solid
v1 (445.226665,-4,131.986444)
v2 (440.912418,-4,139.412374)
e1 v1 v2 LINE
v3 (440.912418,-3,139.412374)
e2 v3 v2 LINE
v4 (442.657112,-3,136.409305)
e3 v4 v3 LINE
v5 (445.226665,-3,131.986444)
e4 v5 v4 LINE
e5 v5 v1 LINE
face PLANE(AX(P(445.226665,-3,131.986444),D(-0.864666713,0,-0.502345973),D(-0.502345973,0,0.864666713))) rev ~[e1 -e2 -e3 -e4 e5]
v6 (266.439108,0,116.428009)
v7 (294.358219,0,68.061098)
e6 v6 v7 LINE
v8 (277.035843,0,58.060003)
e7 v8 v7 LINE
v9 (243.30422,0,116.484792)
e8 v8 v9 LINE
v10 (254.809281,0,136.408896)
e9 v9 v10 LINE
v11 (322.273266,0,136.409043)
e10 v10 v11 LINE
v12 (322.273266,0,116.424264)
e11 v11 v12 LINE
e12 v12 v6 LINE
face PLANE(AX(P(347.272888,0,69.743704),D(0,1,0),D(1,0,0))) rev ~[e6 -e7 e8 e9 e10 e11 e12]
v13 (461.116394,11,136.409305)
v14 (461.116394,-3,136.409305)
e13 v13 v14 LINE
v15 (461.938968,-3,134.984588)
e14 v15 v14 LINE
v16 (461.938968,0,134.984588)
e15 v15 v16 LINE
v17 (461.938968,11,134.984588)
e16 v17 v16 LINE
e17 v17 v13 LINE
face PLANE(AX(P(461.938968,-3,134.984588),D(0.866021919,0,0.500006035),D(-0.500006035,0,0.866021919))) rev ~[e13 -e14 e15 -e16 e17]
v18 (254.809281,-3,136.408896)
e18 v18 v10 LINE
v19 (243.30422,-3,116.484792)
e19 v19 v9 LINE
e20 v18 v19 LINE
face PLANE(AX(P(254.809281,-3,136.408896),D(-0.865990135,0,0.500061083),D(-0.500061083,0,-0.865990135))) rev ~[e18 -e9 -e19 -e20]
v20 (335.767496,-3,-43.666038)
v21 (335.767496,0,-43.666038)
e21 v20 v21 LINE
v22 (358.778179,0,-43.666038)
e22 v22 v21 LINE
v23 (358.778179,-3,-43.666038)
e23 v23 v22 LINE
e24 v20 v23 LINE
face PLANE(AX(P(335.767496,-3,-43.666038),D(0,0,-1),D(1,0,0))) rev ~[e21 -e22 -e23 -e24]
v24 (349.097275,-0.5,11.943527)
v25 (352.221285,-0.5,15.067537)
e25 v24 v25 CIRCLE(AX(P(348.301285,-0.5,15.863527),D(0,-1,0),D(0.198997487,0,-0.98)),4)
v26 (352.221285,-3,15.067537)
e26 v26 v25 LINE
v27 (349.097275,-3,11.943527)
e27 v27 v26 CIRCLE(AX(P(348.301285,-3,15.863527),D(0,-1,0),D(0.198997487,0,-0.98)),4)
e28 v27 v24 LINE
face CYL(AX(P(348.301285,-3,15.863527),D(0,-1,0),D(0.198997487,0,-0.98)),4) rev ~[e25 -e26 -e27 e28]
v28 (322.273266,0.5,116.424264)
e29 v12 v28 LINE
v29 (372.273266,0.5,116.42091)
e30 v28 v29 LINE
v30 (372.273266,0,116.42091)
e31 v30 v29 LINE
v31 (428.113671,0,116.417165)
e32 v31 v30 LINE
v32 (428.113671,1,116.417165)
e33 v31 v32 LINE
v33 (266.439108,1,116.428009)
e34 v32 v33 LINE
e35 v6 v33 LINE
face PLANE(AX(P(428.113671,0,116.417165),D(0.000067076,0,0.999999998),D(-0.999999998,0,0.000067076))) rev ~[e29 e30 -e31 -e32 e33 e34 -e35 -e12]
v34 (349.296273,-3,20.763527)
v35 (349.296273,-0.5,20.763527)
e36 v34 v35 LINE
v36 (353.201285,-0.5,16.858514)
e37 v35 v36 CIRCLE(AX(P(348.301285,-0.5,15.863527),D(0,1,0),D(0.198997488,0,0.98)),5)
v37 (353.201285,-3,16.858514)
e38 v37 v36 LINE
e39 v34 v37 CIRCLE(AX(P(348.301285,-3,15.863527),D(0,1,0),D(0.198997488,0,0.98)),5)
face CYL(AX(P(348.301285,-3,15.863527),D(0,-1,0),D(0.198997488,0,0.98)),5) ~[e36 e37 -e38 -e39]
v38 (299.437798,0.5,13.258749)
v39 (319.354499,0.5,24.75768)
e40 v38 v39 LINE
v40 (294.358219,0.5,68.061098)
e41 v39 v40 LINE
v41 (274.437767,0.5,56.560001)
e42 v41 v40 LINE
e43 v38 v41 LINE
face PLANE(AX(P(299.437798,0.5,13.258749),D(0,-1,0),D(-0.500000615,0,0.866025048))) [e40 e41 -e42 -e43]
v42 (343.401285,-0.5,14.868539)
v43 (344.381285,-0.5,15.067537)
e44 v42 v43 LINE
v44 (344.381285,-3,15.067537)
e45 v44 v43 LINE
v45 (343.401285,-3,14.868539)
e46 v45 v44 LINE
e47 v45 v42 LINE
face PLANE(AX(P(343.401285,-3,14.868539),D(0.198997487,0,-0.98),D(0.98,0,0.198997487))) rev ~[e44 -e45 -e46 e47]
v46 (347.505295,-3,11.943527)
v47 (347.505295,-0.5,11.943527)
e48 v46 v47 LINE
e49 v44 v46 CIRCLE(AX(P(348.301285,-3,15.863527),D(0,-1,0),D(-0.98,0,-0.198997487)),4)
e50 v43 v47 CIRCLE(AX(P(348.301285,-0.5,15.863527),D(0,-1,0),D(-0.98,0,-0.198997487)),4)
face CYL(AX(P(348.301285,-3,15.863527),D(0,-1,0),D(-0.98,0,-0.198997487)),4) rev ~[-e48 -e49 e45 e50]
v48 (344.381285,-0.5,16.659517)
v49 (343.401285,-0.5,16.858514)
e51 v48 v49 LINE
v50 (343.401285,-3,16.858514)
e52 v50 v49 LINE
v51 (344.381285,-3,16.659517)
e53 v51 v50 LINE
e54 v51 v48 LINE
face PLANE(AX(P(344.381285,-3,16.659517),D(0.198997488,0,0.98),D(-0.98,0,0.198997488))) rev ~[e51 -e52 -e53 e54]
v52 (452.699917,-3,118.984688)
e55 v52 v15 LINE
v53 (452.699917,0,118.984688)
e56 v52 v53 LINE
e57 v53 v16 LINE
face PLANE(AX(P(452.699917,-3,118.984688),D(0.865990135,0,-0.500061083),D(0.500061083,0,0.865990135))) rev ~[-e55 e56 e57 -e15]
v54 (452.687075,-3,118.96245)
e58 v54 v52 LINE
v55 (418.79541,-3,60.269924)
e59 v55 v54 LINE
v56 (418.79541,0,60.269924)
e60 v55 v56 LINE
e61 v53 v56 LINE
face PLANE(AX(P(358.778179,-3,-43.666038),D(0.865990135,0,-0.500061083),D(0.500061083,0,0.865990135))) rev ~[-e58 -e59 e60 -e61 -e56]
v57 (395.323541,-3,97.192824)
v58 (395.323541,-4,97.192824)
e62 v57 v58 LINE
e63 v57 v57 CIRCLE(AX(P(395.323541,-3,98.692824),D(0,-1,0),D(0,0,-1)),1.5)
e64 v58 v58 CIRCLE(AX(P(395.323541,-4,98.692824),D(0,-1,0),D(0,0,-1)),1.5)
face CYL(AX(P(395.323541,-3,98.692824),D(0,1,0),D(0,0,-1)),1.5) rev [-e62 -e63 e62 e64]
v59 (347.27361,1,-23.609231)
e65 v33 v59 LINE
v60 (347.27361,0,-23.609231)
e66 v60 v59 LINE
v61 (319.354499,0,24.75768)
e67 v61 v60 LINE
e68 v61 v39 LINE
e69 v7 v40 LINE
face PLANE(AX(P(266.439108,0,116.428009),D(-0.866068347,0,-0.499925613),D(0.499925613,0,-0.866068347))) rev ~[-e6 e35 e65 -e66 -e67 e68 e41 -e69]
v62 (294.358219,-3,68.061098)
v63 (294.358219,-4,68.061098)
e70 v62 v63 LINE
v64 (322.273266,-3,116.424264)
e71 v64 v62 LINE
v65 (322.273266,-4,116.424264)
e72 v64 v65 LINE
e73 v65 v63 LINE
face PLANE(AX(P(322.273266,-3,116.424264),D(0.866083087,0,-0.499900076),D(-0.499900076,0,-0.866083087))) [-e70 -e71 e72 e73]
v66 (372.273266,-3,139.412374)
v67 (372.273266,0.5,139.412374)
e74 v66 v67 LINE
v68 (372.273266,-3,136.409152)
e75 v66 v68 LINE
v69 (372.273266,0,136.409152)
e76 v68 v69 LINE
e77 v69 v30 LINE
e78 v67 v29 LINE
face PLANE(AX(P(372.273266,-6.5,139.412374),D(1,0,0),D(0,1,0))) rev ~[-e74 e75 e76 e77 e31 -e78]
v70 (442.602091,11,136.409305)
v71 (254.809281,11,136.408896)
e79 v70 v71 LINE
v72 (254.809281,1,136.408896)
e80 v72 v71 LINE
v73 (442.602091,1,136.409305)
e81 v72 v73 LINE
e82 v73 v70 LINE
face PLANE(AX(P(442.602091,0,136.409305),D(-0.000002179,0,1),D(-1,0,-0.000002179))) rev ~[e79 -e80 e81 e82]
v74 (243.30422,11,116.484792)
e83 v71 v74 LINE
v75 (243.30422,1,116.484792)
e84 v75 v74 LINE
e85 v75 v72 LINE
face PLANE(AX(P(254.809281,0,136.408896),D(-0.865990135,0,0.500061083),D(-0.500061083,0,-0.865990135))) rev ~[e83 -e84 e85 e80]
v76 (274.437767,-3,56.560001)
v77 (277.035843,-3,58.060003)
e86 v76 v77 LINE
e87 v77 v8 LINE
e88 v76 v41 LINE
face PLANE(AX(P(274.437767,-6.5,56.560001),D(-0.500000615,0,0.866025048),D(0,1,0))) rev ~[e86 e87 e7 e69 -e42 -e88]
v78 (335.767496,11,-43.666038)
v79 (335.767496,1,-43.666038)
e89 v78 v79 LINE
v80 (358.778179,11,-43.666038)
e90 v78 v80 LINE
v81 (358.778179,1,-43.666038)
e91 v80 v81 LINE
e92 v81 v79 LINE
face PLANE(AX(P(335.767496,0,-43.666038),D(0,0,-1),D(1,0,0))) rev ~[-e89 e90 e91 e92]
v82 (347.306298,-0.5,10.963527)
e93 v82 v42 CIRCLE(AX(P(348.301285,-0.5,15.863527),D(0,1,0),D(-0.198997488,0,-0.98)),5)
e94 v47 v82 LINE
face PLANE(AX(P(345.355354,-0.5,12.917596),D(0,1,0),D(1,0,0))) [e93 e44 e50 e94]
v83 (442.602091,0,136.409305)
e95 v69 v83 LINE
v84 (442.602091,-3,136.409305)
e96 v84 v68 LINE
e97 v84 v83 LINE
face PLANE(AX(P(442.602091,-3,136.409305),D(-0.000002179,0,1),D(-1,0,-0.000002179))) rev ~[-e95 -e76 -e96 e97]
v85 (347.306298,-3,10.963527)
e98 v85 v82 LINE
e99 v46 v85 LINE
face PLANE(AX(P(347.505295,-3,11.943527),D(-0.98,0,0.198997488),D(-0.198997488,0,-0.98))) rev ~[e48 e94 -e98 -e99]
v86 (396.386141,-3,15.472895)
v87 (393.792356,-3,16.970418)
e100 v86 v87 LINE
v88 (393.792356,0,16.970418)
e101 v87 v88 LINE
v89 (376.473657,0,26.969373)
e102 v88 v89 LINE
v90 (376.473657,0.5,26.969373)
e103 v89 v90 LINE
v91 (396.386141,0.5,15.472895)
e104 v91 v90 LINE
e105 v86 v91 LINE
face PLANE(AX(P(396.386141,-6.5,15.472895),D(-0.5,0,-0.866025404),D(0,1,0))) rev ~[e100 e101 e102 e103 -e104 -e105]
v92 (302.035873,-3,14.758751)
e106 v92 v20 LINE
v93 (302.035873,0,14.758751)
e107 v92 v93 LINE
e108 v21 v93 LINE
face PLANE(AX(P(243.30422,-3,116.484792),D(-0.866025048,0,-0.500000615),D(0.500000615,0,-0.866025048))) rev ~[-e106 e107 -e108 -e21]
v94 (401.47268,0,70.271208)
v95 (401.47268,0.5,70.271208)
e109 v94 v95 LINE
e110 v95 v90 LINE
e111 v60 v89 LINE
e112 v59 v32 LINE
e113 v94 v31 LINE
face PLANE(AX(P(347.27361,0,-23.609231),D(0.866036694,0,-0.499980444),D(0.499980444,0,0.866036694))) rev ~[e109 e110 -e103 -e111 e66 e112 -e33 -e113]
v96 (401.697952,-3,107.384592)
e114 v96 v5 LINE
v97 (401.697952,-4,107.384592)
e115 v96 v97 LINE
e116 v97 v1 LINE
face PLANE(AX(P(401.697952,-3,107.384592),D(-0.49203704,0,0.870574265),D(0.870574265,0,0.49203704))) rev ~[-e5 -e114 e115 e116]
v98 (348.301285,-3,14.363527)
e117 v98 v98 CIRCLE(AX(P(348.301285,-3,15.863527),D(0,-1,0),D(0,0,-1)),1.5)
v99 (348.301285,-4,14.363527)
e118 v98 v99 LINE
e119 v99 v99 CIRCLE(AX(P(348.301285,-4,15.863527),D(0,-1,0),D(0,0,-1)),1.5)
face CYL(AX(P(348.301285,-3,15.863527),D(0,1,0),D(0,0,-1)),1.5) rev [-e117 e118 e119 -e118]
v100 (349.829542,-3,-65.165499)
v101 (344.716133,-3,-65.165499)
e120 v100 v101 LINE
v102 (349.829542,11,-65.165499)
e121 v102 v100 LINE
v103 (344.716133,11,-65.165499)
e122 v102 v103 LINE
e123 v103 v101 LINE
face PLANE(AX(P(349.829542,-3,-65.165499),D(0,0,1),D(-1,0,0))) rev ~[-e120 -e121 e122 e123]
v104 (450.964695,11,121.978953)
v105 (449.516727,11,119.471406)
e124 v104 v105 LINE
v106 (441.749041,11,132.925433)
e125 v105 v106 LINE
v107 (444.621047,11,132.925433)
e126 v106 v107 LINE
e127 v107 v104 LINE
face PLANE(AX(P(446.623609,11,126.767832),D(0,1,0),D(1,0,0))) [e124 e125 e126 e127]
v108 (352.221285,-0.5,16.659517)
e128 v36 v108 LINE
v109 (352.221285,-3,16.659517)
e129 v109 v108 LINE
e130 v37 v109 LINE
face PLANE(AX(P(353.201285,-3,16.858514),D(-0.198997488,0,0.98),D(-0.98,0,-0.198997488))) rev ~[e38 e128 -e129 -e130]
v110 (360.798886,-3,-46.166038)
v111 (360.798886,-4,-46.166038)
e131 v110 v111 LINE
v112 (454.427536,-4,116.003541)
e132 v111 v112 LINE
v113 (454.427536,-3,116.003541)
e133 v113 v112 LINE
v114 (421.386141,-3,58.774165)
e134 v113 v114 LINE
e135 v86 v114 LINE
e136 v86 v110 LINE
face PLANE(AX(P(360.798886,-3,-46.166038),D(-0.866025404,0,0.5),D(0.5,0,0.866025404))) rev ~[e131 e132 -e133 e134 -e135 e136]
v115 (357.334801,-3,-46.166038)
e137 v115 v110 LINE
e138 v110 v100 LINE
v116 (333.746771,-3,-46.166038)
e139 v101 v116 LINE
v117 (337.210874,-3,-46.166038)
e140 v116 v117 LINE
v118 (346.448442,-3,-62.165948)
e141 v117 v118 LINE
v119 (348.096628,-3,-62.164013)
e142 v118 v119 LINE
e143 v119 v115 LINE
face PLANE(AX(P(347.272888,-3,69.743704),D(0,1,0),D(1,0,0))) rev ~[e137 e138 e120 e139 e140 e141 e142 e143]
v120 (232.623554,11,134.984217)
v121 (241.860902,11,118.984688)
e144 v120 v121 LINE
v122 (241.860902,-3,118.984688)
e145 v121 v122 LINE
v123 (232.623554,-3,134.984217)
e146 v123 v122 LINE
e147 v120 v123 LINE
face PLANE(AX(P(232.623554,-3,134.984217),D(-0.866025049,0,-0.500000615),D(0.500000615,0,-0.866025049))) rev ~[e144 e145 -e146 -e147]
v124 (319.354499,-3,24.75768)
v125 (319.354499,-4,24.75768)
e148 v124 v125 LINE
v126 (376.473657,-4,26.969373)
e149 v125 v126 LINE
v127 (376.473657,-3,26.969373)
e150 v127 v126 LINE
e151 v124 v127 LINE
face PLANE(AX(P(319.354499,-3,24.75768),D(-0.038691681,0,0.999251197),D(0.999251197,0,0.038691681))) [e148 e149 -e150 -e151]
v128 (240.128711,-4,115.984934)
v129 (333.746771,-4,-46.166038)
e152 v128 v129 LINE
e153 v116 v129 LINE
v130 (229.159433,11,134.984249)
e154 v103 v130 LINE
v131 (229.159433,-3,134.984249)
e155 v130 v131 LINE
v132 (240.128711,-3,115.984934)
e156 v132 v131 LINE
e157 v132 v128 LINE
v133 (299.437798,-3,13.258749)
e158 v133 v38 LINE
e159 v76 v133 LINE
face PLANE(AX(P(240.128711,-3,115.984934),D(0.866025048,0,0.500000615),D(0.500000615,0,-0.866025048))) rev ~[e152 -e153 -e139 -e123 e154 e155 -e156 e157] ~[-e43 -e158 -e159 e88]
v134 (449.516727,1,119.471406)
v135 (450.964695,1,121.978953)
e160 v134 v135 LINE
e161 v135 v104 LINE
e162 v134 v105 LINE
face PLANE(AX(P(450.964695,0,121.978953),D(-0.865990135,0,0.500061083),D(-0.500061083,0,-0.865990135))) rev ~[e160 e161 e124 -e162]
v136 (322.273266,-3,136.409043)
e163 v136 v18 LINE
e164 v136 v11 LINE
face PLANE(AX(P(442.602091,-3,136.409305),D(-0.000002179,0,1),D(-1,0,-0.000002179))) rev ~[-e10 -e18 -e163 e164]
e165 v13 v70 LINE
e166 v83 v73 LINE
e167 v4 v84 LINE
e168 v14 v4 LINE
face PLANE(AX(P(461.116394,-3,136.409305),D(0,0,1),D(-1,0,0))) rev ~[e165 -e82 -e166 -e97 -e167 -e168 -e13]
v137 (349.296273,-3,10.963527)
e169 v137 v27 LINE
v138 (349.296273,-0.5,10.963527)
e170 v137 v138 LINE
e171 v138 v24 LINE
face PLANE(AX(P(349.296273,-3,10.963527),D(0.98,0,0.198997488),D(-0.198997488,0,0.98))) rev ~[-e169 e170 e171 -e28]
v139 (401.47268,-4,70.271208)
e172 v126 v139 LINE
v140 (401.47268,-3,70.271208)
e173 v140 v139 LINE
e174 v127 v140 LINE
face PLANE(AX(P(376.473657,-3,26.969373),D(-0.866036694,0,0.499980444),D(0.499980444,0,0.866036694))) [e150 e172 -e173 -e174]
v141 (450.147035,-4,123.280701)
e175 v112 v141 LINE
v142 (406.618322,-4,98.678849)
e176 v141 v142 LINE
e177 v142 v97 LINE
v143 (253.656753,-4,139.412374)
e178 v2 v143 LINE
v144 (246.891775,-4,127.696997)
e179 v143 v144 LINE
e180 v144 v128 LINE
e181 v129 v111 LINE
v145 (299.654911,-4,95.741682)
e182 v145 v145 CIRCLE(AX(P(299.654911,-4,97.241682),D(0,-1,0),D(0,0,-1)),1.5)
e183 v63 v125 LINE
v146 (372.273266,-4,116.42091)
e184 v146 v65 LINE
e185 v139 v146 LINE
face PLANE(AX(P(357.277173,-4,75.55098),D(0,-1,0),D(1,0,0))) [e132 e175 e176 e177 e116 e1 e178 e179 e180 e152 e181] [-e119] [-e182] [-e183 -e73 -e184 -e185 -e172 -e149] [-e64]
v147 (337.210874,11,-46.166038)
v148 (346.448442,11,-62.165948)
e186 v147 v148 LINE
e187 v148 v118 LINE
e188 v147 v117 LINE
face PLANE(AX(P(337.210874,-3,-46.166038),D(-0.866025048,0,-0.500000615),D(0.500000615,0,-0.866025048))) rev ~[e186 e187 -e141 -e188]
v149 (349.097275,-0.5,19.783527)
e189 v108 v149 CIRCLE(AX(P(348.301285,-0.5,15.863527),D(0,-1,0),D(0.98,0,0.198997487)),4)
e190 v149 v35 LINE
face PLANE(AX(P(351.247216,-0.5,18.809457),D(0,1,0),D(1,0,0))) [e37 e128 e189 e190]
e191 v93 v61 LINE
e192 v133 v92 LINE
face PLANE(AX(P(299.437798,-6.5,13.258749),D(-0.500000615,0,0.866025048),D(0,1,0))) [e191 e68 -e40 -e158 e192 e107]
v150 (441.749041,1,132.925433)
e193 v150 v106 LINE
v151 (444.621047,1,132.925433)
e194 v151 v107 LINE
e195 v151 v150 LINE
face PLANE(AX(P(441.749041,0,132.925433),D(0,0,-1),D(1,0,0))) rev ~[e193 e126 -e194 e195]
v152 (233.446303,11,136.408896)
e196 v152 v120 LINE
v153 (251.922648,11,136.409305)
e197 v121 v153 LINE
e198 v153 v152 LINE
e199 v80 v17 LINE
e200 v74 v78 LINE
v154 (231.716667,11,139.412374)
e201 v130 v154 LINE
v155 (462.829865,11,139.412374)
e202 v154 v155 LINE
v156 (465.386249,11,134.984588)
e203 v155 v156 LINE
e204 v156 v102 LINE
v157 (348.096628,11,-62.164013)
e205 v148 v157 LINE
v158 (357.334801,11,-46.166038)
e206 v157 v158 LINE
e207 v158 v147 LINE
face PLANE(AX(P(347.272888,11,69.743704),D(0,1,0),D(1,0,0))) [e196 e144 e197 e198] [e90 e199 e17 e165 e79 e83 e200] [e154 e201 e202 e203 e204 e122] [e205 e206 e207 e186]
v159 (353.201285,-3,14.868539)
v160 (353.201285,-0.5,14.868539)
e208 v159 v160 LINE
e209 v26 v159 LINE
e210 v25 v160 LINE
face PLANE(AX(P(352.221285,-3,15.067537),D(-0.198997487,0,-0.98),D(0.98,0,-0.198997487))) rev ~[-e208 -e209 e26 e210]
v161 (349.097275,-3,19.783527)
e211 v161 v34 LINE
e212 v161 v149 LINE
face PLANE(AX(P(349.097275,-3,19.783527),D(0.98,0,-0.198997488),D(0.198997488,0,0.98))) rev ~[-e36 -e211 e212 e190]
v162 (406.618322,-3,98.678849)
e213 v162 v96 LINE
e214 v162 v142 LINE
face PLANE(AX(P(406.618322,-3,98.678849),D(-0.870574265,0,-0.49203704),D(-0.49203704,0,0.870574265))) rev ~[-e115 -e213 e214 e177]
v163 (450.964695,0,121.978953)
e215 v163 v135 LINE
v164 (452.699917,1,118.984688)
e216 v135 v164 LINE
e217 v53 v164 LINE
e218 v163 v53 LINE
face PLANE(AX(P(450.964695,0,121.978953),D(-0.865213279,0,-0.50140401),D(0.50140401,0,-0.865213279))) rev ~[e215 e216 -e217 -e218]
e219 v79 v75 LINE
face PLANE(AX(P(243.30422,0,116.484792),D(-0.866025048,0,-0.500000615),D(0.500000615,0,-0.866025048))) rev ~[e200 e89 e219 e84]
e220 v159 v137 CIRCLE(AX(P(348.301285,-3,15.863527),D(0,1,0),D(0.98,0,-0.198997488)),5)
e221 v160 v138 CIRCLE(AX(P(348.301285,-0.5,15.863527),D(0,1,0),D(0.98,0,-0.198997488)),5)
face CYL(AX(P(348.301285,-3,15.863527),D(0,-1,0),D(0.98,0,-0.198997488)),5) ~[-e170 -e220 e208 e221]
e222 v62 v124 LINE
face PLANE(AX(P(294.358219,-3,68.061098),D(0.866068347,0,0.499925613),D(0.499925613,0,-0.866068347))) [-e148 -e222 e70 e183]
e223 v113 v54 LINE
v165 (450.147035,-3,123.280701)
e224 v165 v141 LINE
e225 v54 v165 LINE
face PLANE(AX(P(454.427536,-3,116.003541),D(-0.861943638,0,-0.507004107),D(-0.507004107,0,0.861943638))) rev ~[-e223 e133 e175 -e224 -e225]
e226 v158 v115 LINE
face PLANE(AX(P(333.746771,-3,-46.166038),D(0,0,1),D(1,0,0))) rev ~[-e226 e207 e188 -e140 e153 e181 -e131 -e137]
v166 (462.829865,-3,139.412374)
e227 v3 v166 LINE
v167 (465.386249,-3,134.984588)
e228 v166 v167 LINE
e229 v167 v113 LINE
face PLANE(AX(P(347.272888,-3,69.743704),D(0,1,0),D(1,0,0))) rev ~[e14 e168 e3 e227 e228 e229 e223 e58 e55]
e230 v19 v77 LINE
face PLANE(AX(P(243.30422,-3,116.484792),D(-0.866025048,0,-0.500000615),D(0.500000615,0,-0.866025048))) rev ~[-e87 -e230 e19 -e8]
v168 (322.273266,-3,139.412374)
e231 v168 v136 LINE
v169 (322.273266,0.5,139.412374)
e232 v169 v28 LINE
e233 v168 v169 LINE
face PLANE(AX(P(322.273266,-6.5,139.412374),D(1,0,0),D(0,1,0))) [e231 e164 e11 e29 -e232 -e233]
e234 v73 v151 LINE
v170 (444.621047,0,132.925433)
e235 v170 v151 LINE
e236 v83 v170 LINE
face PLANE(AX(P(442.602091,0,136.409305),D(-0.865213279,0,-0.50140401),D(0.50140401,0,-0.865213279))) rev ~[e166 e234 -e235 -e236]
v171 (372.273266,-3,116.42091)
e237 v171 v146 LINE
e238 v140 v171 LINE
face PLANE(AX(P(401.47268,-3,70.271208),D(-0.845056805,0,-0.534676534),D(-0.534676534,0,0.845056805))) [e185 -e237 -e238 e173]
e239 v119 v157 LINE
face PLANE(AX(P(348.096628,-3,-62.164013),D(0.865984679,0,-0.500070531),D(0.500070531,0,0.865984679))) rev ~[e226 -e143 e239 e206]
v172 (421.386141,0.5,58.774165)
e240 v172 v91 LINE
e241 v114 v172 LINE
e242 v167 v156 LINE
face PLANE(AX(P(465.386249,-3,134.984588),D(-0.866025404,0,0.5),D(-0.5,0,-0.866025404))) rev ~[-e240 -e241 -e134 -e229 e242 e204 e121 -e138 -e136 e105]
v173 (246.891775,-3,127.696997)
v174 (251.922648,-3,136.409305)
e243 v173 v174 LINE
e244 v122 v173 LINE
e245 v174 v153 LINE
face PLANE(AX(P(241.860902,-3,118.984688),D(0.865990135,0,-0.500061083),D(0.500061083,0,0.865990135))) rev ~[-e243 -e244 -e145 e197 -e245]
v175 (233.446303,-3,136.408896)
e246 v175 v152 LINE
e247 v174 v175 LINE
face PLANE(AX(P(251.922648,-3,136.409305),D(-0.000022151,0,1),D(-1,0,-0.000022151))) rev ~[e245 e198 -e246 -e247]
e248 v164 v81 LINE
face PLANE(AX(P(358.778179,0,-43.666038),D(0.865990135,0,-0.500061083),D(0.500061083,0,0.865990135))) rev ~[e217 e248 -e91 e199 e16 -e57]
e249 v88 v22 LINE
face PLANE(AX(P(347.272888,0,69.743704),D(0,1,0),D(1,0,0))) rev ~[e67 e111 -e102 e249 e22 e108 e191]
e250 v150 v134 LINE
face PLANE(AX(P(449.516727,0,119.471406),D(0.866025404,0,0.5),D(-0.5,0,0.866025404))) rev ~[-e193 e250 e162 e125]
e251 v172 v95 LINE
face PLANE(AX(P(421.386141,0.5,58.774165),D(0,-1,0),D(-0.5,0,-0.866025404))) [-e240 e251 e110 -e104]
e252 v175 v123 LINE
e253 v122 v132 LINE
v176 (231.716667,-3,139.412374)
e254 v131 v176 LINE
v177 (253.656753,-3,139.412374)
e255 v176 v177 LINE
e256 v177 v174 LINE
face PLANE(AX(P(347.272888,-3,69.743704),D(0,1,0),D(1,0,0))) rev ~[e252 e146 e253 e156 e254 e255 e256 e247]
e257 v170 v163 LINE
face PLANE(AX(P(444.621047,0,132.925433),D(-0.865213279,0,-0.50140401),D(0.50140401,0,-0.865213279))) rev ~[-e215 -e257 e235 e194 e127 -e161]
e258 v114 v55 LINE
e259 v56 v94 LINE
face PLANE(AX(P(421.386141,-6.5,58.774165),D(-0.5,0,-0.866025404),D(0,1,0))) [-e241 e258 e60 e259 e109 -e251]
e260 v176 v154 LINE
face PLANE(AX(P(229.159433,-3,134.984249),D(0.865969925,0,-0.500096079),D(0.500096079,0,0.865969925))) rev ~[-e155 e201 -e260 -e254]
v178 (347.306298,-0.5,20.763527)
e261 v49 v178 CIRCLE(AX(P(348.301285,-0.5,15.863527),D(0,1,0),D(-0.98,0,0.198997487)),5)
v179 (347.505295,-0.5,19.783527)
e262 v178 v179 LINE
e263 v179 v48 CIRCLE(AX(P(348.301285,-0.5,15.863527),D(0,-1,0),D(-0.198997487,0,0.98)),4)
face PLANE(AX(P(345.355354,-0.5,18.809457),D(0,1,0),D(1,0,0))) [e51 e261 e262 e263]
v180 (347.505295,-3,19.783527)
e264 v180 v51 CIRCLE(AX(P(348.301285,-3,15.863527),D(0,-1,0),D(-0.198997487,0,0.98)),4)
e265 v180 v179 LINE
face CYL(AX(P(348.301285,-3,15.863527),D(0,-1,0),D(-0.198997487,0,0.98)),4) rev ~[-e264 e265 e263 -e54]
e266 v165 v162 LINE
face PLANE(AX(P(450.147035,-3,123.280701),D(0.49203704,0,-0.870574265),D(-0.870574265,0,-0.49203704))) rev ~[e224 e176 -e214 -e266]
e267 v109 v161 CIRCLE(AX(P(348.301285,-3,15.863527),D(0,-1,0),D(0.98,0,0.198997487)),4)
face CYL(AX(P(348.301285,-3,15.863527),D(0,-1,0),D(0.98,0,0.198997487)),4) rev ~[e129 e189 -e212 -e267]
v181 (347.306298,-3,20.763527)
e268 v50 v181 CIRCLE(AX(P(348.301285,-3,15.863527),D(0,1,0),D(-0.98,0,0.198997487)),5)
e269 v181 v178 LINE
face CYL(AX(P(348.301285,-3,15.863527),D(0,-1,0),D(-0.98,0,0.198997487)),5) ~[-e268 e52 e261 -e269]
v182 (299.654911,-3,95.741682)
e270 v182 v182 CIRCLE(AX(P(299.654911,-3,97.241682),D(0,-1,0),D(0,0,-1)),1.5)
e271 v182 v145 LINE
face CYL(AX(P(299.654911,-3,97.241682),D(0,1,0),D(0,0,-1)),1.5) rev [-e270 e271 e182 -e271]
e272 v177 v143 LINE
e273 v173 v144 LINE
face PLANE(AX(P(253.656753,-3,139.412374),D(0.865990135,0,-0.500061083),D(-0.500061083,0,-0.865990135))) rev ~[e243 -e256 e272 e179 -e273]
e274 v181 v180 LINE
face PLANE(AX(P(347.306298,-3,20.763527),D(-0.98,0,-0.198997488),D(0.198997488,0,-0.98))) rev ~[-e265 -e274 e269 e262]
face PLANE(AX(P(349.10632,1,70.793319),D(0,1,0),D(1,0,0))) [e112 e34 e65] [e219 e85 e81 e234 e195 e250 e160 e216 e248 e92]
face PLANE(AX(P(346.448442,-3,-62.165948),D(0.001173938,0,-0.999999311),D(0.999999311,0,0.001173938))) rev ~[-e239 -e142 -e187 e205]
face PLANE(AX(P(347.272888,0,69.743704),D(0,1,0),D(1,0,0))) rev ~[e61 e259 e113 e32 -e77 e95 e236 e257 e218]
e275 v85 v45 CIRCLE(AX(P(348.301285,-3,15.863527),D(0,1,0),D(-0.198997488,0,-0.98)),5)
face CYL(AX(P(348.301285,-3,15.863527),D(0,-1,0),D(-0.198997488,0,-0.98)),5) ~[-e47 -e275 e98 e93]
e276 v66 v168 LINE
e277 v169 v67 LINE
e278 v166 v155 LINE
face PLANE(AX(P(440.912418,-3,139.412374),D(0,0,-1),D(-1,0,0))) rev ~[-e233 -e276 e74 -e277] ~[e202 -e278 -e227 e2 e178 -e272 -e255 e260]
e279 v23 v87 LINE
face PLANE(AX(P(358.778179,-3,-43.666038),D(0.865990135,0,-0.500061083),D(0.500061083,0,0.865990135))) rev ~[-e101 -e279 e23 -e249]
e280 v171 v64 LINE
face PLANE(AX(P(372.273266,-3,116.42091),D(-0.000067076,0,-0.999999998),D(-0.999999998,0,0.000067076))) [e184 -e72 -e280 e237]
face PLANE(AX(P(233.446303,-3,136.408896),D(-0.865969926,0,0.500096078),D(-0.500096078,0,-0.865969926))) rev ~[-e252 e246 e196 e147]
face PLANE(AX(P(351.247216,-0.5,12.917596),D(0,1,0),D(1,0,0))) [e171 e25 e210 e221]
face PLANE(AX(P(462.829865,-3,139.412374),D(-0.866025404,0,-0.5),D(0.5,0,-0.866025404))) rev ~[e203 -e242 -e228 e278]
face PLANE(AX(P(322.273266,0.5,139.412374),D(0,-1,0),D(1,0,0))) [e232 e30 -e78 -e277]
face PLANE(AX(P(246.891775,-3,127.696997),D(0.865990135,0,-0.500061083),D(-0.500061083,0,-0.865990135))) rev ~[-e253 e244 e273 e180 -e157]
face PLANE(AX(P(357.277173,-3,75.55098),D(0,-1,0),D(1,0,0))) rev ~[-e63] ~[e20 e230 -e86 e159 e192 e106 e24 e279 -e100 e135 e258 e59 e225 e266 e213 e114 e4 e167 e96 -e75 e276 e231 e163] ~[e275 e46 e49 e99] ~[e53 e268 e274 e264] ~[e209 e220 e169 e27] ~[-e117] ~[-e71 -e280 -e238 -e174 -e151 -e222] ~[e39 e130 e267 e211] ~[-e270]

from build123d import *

# Parameters (mm, degrees)
BOSS_EXTRUDE1_DEPTH      = 1
BOSS_EXTRUDE2_DEPTH      = 11
BOSS_EXTRUDE3_DEPTH      = 5
BOSS_EXTRUDE3_DEPTH_BACK = 3
SKETCH3_W                = 50
SKETCH3_H                = 7
CUT_EXTRUDE3_DEPTH       = 25
SKETCH5_W                = 50
SKETCH5_H                = 7
CUT_EXTRUDE4_DEPTH       = 25
SKETCH6_W                = 50
SKETCH6_H                = 7
CUT_EXTRUDE5_DEPTH       = 25
SKETCH8_R                = 1.5
BOSS_EXTRUDE5_DEPTH      = 1
BOSS_EXTRUDE7_DEPTH      = 2.5


with BuildPart() as part:
    # Sketch1 → Boss-Extrude1 (new body)
    with BuildSketch(Plane(origin=(0, 0, 0), x_dir=(1, 0, 0), z_dir=(0, 1, 0))):
        Polygon((243.304219773, -116.484791866), (254.809280576, -136.408896139), (442.602090749, -136.409305398), (444.621046679, -132.925433223), (441.749040748, -132.925433223), (449.516726723, -119.471406457), (450.964695297, -121.978953122), (452.699916621, -118.984688017), (358.778179035, 43.666038066), (335.767496284, 43.666038066), align=None)
        Polygon((428.113670919, -116.417164681), (266.439108268, -116.428009241), (347.273609729, 23.609230825), align=None, mode=Mode.SUBTRACT)
    extrude(amount=BOSS_EXTRUDE1_DEPTH)

    # Sketch1<9> → Boss-Extrude2 (add)
    # profile 1 of 2: a face of its own
    with BuildSketch(Plane(origin=(0, 0, 0), x_dir=(1, 0, 0), z_dir=(0, 1, 0))):
        Polygon((229.159432547, -134.984249184), (231.716666588, -139.412373829), (462.829865412, -139.412373829), (465.38624875, -134.984588004), (349.829542096, 65.165499075), (344.716133219, 65.165499075), align=None)
        Polygon((251.922647988, -136.4093054), (233.446303399, -136.408896139), (232.623553959, -134.984217358), (241.860901688, -118.984688019), align=None, mode=Mode.SUBTRACT)
        Polygon((442.602090749, -136.409305398), (254.809280576, -136.408896139), (243.304219773, -116.484791866), (335.767496284, 43.666038066), (358.778179035, 43.666038066), (461.938967957, -134.984588004), (461.116393748, -136.409305398), align=None, mode=Mode.SUBTRACT)
        Polygon((348.096628302, 62.164013367), (357.334800991, 46.166038067), (337.210874326, 46.166038067), (346.44844193, 62.165948237), align=None, mode=Mode.SUBTRACT)
    # profile 2 of 2: a face of its own
    with BuildSketch(Plane(origin=(0, 0, 0), x_dir=(1, 0, 0), z_dir=(0, 1, 0))):
        Polygon((441.749040748, -132.925433223), (444.621046679, -132.925433223), (450.964695297, -121.978953122), (449.516726723, -119.471406457), align=None)
    extrude(amount=BOSS_EXTRUDE2_DEPTH)

    # Sketch1<10> → Boss-Extrude3 (add, two sides: drawn at the far end of the back side and taken through both)
    with BuildSketch(Plane(origin=(0, 0, 0), x_dir=(1, 0, 0), z_dir=(0, 1, 0)).offset(-BOSS_EXTRUDE3_DEPTH_BACK)):
        Polygon((229.159432547, -134.984249184), (231.716666588, -139.412373829), (462.829865412, -139.412373829), (465.38624875, -134.984588004), (349.829542096, 65.165499075), (344.716133219, 65.165499075), align=None)
        Polygon((251.922647988, -136.4093054), (233.446303399, -136.408896139), (232.623553959, -134.984217358), (241.860901688, -118.984688019), align=None, mode=Mode.SUBTRACT)
        Polygon((442.602090749, -136.409305398), (254.809280576, -136.408896139), (243.304219773, -116.484791866), (335.767496284, 43.666038066), (358.778179035, 43.666038066), (452.699916621, -118.984688017), (461.938967957, -134.984588004), (461.116393748, -136.409305398), align=None, mode=Mode.SUBTRACT)
        Polygon((348.096628302, 62.164013367), (357.334800991, 46.166038067), (337.210874326, 46.166038067), (346.44844193, 62.165948237), align=None, mode=Mode.SUBTRACT)
    extrude(amount=BOSS_EXTRUDE3_DEPTH + BOSS_EXTRUDE3_DEPTH_BACK)

    # Sketch3 → Cut-Extrude3 (cut)
    with BuildSketch(Plane(origin=(290.589645397, 0, -167.772009994), x_dir=(-0.49999999999998745, 0, -0.8660254037844459), z_dir=(0.8660254037844459, 0, -0.49999999999998745))):
        with Locations((-236.592990632, -3)):
            Rectangle(SKETCH3_W, SKETCH3_H)
    extrude(amount=-CUT_EXTRUDE3_DEPTH, mode=Mode.SUBTRACT)

    # Sketch5 → Cut-Extrude4 (cut)
    with BuildSketch(Plane.XY.offset(139.412373829)):
        with Locations((347.273266, -3)):
            Rectangle(SKETCH5_W, SKETCH5_H)
    extrude(amount=-CUT_EXTRUDE4_DEPTH, mode=Mode.SUBTRACT)

    # Sketch6 → Cut-Extrude5 (cut)
    with BuildSketch(Plane(origin=(230.319375797, 0, 132.975171838), x_dir=(-0.5000006154012504, 0, 0.8660250484820695), z_dir=(-0.8660250484820695, 0, -0.5000006154012504))):
        with Locations((-113.2366748, -3)):
            Rectangle(SKETCH6_W, SKETCH6_H)
    extrude(amount=-CUT_EXTRUDE5_DEPTH, mode=Mode.SUBTRACT)

    # Sketch8 → Boss-Extrude5 (add)
    with BuildSketch(Plane.XZ.offset(3)):
        Polygon((246.891774838, 127.696996709), (240.128710529, 115.984933576), (333.74677129, -46.166038067), (360.798886024, -46.166038067), (454.427535986, 116.00354071), (450.14703547, 123.280701064), (406.618322212, 98.678849058), (401.697951811, 107.384591709), (445.226665069, 131.986443715), (440.912417704, 139.412373829), (253.656752788, 139.412373829), align=None)
        with Locations((395.323540807, 98.692824234)):
            Circle(SKETCH8_R, mode=Mode.SUBTRACT)
        with Locations((348.301285092, 15.863526629)):
            Circle(SKETCH8_R, mode=Mode.SUBTRACT)
        with Locations((299.654911442, 97.241681781)):
            Circle(SKETCH8_R, mode=Mode.SUBTRACT)
        Polygon((322.273266, 116.424264082), (294.358218631, 68.061097964), (319.354499366, 24.757680453), (376.473657317, 26.969372805), (401.47267951, 70.271207531), (372.273266, 116.420910258), align=None, mode=Mode.SUBTRACT)
    extrude(amount=BOSS_EXTRUDE5_DEPTH)

    # Sketch12 → Boss-Extrude7 (add)
    with BuildSketch(Plane(origin=(0, -3, 0), x_dir=(1, 0, 0), z_dir=(0, 1, 0))):
        with BuildLine():
            ThreePointArc((353.201285092, -14.868539192), (351.836818997, -12.327992723), (349.296272529, -10.963526629))
            Line((349.296272529, -10.963526629), (349.097275041, -11.943526629))
            ThreePointArc((349.097275041, -11.943526629), (351.129712216, -13.035099504), (352.221285092, -15.067536679))
            Line((352.221285092, -15.067536679), (353.201285092, -14.868539192))
        make_face()
        with BuildLine():
            Line((347.505295142, -11.943526629), (347.306297654, -10.963526629))
            ThreePointArc((347.306297654, -10.963526629), (344.765751186, -12.327992723), (343.401285092, -14.868539192))
            Line((343.401285092, -14.868539192), (344.381285092, -15.067536679))
            ThreePointArc((344.381285092, -15.067536679), (345.472857967, -13.035099504), (347.505295142, -11.943526629))
        make_face()
        with BuildLine():
            ThreePointArc((349.296272529, -20.763526629), (351.836818997, -19.399060535), (353.201285092, -16.858514066))
            Line((353.201285092, -16.858514066), (352.221285092, -16.659516578))
            ThreePointArc((352.221285092, -16.659516578), (351.129712216, -18.691953754), (349.097275041, -19.783526629))
            Line((349.097275041, -19.783526629), (349.296272529, -20.763526629))
        make_face()
        with BuildLine():
            Line((344.381285092, -16.659516578), (343.401285092, -16.858514066))
            ThreePointArc((343.401285092, -16.858514066), (344.765751186, -19.399060535), (347.306297654, -20.763526629))
            Line((347.306297654, -20.763526629), (347.505295142, -19.783526629))
            ThreePointArc((347.505295142, -19.783526629), (345.472857967, -18.691953754), (344.381285092, -16.659516578))
        make_face()
    extrude(amount=BOSS_EXTRUDE7_DEPTH)


solid = part.part
